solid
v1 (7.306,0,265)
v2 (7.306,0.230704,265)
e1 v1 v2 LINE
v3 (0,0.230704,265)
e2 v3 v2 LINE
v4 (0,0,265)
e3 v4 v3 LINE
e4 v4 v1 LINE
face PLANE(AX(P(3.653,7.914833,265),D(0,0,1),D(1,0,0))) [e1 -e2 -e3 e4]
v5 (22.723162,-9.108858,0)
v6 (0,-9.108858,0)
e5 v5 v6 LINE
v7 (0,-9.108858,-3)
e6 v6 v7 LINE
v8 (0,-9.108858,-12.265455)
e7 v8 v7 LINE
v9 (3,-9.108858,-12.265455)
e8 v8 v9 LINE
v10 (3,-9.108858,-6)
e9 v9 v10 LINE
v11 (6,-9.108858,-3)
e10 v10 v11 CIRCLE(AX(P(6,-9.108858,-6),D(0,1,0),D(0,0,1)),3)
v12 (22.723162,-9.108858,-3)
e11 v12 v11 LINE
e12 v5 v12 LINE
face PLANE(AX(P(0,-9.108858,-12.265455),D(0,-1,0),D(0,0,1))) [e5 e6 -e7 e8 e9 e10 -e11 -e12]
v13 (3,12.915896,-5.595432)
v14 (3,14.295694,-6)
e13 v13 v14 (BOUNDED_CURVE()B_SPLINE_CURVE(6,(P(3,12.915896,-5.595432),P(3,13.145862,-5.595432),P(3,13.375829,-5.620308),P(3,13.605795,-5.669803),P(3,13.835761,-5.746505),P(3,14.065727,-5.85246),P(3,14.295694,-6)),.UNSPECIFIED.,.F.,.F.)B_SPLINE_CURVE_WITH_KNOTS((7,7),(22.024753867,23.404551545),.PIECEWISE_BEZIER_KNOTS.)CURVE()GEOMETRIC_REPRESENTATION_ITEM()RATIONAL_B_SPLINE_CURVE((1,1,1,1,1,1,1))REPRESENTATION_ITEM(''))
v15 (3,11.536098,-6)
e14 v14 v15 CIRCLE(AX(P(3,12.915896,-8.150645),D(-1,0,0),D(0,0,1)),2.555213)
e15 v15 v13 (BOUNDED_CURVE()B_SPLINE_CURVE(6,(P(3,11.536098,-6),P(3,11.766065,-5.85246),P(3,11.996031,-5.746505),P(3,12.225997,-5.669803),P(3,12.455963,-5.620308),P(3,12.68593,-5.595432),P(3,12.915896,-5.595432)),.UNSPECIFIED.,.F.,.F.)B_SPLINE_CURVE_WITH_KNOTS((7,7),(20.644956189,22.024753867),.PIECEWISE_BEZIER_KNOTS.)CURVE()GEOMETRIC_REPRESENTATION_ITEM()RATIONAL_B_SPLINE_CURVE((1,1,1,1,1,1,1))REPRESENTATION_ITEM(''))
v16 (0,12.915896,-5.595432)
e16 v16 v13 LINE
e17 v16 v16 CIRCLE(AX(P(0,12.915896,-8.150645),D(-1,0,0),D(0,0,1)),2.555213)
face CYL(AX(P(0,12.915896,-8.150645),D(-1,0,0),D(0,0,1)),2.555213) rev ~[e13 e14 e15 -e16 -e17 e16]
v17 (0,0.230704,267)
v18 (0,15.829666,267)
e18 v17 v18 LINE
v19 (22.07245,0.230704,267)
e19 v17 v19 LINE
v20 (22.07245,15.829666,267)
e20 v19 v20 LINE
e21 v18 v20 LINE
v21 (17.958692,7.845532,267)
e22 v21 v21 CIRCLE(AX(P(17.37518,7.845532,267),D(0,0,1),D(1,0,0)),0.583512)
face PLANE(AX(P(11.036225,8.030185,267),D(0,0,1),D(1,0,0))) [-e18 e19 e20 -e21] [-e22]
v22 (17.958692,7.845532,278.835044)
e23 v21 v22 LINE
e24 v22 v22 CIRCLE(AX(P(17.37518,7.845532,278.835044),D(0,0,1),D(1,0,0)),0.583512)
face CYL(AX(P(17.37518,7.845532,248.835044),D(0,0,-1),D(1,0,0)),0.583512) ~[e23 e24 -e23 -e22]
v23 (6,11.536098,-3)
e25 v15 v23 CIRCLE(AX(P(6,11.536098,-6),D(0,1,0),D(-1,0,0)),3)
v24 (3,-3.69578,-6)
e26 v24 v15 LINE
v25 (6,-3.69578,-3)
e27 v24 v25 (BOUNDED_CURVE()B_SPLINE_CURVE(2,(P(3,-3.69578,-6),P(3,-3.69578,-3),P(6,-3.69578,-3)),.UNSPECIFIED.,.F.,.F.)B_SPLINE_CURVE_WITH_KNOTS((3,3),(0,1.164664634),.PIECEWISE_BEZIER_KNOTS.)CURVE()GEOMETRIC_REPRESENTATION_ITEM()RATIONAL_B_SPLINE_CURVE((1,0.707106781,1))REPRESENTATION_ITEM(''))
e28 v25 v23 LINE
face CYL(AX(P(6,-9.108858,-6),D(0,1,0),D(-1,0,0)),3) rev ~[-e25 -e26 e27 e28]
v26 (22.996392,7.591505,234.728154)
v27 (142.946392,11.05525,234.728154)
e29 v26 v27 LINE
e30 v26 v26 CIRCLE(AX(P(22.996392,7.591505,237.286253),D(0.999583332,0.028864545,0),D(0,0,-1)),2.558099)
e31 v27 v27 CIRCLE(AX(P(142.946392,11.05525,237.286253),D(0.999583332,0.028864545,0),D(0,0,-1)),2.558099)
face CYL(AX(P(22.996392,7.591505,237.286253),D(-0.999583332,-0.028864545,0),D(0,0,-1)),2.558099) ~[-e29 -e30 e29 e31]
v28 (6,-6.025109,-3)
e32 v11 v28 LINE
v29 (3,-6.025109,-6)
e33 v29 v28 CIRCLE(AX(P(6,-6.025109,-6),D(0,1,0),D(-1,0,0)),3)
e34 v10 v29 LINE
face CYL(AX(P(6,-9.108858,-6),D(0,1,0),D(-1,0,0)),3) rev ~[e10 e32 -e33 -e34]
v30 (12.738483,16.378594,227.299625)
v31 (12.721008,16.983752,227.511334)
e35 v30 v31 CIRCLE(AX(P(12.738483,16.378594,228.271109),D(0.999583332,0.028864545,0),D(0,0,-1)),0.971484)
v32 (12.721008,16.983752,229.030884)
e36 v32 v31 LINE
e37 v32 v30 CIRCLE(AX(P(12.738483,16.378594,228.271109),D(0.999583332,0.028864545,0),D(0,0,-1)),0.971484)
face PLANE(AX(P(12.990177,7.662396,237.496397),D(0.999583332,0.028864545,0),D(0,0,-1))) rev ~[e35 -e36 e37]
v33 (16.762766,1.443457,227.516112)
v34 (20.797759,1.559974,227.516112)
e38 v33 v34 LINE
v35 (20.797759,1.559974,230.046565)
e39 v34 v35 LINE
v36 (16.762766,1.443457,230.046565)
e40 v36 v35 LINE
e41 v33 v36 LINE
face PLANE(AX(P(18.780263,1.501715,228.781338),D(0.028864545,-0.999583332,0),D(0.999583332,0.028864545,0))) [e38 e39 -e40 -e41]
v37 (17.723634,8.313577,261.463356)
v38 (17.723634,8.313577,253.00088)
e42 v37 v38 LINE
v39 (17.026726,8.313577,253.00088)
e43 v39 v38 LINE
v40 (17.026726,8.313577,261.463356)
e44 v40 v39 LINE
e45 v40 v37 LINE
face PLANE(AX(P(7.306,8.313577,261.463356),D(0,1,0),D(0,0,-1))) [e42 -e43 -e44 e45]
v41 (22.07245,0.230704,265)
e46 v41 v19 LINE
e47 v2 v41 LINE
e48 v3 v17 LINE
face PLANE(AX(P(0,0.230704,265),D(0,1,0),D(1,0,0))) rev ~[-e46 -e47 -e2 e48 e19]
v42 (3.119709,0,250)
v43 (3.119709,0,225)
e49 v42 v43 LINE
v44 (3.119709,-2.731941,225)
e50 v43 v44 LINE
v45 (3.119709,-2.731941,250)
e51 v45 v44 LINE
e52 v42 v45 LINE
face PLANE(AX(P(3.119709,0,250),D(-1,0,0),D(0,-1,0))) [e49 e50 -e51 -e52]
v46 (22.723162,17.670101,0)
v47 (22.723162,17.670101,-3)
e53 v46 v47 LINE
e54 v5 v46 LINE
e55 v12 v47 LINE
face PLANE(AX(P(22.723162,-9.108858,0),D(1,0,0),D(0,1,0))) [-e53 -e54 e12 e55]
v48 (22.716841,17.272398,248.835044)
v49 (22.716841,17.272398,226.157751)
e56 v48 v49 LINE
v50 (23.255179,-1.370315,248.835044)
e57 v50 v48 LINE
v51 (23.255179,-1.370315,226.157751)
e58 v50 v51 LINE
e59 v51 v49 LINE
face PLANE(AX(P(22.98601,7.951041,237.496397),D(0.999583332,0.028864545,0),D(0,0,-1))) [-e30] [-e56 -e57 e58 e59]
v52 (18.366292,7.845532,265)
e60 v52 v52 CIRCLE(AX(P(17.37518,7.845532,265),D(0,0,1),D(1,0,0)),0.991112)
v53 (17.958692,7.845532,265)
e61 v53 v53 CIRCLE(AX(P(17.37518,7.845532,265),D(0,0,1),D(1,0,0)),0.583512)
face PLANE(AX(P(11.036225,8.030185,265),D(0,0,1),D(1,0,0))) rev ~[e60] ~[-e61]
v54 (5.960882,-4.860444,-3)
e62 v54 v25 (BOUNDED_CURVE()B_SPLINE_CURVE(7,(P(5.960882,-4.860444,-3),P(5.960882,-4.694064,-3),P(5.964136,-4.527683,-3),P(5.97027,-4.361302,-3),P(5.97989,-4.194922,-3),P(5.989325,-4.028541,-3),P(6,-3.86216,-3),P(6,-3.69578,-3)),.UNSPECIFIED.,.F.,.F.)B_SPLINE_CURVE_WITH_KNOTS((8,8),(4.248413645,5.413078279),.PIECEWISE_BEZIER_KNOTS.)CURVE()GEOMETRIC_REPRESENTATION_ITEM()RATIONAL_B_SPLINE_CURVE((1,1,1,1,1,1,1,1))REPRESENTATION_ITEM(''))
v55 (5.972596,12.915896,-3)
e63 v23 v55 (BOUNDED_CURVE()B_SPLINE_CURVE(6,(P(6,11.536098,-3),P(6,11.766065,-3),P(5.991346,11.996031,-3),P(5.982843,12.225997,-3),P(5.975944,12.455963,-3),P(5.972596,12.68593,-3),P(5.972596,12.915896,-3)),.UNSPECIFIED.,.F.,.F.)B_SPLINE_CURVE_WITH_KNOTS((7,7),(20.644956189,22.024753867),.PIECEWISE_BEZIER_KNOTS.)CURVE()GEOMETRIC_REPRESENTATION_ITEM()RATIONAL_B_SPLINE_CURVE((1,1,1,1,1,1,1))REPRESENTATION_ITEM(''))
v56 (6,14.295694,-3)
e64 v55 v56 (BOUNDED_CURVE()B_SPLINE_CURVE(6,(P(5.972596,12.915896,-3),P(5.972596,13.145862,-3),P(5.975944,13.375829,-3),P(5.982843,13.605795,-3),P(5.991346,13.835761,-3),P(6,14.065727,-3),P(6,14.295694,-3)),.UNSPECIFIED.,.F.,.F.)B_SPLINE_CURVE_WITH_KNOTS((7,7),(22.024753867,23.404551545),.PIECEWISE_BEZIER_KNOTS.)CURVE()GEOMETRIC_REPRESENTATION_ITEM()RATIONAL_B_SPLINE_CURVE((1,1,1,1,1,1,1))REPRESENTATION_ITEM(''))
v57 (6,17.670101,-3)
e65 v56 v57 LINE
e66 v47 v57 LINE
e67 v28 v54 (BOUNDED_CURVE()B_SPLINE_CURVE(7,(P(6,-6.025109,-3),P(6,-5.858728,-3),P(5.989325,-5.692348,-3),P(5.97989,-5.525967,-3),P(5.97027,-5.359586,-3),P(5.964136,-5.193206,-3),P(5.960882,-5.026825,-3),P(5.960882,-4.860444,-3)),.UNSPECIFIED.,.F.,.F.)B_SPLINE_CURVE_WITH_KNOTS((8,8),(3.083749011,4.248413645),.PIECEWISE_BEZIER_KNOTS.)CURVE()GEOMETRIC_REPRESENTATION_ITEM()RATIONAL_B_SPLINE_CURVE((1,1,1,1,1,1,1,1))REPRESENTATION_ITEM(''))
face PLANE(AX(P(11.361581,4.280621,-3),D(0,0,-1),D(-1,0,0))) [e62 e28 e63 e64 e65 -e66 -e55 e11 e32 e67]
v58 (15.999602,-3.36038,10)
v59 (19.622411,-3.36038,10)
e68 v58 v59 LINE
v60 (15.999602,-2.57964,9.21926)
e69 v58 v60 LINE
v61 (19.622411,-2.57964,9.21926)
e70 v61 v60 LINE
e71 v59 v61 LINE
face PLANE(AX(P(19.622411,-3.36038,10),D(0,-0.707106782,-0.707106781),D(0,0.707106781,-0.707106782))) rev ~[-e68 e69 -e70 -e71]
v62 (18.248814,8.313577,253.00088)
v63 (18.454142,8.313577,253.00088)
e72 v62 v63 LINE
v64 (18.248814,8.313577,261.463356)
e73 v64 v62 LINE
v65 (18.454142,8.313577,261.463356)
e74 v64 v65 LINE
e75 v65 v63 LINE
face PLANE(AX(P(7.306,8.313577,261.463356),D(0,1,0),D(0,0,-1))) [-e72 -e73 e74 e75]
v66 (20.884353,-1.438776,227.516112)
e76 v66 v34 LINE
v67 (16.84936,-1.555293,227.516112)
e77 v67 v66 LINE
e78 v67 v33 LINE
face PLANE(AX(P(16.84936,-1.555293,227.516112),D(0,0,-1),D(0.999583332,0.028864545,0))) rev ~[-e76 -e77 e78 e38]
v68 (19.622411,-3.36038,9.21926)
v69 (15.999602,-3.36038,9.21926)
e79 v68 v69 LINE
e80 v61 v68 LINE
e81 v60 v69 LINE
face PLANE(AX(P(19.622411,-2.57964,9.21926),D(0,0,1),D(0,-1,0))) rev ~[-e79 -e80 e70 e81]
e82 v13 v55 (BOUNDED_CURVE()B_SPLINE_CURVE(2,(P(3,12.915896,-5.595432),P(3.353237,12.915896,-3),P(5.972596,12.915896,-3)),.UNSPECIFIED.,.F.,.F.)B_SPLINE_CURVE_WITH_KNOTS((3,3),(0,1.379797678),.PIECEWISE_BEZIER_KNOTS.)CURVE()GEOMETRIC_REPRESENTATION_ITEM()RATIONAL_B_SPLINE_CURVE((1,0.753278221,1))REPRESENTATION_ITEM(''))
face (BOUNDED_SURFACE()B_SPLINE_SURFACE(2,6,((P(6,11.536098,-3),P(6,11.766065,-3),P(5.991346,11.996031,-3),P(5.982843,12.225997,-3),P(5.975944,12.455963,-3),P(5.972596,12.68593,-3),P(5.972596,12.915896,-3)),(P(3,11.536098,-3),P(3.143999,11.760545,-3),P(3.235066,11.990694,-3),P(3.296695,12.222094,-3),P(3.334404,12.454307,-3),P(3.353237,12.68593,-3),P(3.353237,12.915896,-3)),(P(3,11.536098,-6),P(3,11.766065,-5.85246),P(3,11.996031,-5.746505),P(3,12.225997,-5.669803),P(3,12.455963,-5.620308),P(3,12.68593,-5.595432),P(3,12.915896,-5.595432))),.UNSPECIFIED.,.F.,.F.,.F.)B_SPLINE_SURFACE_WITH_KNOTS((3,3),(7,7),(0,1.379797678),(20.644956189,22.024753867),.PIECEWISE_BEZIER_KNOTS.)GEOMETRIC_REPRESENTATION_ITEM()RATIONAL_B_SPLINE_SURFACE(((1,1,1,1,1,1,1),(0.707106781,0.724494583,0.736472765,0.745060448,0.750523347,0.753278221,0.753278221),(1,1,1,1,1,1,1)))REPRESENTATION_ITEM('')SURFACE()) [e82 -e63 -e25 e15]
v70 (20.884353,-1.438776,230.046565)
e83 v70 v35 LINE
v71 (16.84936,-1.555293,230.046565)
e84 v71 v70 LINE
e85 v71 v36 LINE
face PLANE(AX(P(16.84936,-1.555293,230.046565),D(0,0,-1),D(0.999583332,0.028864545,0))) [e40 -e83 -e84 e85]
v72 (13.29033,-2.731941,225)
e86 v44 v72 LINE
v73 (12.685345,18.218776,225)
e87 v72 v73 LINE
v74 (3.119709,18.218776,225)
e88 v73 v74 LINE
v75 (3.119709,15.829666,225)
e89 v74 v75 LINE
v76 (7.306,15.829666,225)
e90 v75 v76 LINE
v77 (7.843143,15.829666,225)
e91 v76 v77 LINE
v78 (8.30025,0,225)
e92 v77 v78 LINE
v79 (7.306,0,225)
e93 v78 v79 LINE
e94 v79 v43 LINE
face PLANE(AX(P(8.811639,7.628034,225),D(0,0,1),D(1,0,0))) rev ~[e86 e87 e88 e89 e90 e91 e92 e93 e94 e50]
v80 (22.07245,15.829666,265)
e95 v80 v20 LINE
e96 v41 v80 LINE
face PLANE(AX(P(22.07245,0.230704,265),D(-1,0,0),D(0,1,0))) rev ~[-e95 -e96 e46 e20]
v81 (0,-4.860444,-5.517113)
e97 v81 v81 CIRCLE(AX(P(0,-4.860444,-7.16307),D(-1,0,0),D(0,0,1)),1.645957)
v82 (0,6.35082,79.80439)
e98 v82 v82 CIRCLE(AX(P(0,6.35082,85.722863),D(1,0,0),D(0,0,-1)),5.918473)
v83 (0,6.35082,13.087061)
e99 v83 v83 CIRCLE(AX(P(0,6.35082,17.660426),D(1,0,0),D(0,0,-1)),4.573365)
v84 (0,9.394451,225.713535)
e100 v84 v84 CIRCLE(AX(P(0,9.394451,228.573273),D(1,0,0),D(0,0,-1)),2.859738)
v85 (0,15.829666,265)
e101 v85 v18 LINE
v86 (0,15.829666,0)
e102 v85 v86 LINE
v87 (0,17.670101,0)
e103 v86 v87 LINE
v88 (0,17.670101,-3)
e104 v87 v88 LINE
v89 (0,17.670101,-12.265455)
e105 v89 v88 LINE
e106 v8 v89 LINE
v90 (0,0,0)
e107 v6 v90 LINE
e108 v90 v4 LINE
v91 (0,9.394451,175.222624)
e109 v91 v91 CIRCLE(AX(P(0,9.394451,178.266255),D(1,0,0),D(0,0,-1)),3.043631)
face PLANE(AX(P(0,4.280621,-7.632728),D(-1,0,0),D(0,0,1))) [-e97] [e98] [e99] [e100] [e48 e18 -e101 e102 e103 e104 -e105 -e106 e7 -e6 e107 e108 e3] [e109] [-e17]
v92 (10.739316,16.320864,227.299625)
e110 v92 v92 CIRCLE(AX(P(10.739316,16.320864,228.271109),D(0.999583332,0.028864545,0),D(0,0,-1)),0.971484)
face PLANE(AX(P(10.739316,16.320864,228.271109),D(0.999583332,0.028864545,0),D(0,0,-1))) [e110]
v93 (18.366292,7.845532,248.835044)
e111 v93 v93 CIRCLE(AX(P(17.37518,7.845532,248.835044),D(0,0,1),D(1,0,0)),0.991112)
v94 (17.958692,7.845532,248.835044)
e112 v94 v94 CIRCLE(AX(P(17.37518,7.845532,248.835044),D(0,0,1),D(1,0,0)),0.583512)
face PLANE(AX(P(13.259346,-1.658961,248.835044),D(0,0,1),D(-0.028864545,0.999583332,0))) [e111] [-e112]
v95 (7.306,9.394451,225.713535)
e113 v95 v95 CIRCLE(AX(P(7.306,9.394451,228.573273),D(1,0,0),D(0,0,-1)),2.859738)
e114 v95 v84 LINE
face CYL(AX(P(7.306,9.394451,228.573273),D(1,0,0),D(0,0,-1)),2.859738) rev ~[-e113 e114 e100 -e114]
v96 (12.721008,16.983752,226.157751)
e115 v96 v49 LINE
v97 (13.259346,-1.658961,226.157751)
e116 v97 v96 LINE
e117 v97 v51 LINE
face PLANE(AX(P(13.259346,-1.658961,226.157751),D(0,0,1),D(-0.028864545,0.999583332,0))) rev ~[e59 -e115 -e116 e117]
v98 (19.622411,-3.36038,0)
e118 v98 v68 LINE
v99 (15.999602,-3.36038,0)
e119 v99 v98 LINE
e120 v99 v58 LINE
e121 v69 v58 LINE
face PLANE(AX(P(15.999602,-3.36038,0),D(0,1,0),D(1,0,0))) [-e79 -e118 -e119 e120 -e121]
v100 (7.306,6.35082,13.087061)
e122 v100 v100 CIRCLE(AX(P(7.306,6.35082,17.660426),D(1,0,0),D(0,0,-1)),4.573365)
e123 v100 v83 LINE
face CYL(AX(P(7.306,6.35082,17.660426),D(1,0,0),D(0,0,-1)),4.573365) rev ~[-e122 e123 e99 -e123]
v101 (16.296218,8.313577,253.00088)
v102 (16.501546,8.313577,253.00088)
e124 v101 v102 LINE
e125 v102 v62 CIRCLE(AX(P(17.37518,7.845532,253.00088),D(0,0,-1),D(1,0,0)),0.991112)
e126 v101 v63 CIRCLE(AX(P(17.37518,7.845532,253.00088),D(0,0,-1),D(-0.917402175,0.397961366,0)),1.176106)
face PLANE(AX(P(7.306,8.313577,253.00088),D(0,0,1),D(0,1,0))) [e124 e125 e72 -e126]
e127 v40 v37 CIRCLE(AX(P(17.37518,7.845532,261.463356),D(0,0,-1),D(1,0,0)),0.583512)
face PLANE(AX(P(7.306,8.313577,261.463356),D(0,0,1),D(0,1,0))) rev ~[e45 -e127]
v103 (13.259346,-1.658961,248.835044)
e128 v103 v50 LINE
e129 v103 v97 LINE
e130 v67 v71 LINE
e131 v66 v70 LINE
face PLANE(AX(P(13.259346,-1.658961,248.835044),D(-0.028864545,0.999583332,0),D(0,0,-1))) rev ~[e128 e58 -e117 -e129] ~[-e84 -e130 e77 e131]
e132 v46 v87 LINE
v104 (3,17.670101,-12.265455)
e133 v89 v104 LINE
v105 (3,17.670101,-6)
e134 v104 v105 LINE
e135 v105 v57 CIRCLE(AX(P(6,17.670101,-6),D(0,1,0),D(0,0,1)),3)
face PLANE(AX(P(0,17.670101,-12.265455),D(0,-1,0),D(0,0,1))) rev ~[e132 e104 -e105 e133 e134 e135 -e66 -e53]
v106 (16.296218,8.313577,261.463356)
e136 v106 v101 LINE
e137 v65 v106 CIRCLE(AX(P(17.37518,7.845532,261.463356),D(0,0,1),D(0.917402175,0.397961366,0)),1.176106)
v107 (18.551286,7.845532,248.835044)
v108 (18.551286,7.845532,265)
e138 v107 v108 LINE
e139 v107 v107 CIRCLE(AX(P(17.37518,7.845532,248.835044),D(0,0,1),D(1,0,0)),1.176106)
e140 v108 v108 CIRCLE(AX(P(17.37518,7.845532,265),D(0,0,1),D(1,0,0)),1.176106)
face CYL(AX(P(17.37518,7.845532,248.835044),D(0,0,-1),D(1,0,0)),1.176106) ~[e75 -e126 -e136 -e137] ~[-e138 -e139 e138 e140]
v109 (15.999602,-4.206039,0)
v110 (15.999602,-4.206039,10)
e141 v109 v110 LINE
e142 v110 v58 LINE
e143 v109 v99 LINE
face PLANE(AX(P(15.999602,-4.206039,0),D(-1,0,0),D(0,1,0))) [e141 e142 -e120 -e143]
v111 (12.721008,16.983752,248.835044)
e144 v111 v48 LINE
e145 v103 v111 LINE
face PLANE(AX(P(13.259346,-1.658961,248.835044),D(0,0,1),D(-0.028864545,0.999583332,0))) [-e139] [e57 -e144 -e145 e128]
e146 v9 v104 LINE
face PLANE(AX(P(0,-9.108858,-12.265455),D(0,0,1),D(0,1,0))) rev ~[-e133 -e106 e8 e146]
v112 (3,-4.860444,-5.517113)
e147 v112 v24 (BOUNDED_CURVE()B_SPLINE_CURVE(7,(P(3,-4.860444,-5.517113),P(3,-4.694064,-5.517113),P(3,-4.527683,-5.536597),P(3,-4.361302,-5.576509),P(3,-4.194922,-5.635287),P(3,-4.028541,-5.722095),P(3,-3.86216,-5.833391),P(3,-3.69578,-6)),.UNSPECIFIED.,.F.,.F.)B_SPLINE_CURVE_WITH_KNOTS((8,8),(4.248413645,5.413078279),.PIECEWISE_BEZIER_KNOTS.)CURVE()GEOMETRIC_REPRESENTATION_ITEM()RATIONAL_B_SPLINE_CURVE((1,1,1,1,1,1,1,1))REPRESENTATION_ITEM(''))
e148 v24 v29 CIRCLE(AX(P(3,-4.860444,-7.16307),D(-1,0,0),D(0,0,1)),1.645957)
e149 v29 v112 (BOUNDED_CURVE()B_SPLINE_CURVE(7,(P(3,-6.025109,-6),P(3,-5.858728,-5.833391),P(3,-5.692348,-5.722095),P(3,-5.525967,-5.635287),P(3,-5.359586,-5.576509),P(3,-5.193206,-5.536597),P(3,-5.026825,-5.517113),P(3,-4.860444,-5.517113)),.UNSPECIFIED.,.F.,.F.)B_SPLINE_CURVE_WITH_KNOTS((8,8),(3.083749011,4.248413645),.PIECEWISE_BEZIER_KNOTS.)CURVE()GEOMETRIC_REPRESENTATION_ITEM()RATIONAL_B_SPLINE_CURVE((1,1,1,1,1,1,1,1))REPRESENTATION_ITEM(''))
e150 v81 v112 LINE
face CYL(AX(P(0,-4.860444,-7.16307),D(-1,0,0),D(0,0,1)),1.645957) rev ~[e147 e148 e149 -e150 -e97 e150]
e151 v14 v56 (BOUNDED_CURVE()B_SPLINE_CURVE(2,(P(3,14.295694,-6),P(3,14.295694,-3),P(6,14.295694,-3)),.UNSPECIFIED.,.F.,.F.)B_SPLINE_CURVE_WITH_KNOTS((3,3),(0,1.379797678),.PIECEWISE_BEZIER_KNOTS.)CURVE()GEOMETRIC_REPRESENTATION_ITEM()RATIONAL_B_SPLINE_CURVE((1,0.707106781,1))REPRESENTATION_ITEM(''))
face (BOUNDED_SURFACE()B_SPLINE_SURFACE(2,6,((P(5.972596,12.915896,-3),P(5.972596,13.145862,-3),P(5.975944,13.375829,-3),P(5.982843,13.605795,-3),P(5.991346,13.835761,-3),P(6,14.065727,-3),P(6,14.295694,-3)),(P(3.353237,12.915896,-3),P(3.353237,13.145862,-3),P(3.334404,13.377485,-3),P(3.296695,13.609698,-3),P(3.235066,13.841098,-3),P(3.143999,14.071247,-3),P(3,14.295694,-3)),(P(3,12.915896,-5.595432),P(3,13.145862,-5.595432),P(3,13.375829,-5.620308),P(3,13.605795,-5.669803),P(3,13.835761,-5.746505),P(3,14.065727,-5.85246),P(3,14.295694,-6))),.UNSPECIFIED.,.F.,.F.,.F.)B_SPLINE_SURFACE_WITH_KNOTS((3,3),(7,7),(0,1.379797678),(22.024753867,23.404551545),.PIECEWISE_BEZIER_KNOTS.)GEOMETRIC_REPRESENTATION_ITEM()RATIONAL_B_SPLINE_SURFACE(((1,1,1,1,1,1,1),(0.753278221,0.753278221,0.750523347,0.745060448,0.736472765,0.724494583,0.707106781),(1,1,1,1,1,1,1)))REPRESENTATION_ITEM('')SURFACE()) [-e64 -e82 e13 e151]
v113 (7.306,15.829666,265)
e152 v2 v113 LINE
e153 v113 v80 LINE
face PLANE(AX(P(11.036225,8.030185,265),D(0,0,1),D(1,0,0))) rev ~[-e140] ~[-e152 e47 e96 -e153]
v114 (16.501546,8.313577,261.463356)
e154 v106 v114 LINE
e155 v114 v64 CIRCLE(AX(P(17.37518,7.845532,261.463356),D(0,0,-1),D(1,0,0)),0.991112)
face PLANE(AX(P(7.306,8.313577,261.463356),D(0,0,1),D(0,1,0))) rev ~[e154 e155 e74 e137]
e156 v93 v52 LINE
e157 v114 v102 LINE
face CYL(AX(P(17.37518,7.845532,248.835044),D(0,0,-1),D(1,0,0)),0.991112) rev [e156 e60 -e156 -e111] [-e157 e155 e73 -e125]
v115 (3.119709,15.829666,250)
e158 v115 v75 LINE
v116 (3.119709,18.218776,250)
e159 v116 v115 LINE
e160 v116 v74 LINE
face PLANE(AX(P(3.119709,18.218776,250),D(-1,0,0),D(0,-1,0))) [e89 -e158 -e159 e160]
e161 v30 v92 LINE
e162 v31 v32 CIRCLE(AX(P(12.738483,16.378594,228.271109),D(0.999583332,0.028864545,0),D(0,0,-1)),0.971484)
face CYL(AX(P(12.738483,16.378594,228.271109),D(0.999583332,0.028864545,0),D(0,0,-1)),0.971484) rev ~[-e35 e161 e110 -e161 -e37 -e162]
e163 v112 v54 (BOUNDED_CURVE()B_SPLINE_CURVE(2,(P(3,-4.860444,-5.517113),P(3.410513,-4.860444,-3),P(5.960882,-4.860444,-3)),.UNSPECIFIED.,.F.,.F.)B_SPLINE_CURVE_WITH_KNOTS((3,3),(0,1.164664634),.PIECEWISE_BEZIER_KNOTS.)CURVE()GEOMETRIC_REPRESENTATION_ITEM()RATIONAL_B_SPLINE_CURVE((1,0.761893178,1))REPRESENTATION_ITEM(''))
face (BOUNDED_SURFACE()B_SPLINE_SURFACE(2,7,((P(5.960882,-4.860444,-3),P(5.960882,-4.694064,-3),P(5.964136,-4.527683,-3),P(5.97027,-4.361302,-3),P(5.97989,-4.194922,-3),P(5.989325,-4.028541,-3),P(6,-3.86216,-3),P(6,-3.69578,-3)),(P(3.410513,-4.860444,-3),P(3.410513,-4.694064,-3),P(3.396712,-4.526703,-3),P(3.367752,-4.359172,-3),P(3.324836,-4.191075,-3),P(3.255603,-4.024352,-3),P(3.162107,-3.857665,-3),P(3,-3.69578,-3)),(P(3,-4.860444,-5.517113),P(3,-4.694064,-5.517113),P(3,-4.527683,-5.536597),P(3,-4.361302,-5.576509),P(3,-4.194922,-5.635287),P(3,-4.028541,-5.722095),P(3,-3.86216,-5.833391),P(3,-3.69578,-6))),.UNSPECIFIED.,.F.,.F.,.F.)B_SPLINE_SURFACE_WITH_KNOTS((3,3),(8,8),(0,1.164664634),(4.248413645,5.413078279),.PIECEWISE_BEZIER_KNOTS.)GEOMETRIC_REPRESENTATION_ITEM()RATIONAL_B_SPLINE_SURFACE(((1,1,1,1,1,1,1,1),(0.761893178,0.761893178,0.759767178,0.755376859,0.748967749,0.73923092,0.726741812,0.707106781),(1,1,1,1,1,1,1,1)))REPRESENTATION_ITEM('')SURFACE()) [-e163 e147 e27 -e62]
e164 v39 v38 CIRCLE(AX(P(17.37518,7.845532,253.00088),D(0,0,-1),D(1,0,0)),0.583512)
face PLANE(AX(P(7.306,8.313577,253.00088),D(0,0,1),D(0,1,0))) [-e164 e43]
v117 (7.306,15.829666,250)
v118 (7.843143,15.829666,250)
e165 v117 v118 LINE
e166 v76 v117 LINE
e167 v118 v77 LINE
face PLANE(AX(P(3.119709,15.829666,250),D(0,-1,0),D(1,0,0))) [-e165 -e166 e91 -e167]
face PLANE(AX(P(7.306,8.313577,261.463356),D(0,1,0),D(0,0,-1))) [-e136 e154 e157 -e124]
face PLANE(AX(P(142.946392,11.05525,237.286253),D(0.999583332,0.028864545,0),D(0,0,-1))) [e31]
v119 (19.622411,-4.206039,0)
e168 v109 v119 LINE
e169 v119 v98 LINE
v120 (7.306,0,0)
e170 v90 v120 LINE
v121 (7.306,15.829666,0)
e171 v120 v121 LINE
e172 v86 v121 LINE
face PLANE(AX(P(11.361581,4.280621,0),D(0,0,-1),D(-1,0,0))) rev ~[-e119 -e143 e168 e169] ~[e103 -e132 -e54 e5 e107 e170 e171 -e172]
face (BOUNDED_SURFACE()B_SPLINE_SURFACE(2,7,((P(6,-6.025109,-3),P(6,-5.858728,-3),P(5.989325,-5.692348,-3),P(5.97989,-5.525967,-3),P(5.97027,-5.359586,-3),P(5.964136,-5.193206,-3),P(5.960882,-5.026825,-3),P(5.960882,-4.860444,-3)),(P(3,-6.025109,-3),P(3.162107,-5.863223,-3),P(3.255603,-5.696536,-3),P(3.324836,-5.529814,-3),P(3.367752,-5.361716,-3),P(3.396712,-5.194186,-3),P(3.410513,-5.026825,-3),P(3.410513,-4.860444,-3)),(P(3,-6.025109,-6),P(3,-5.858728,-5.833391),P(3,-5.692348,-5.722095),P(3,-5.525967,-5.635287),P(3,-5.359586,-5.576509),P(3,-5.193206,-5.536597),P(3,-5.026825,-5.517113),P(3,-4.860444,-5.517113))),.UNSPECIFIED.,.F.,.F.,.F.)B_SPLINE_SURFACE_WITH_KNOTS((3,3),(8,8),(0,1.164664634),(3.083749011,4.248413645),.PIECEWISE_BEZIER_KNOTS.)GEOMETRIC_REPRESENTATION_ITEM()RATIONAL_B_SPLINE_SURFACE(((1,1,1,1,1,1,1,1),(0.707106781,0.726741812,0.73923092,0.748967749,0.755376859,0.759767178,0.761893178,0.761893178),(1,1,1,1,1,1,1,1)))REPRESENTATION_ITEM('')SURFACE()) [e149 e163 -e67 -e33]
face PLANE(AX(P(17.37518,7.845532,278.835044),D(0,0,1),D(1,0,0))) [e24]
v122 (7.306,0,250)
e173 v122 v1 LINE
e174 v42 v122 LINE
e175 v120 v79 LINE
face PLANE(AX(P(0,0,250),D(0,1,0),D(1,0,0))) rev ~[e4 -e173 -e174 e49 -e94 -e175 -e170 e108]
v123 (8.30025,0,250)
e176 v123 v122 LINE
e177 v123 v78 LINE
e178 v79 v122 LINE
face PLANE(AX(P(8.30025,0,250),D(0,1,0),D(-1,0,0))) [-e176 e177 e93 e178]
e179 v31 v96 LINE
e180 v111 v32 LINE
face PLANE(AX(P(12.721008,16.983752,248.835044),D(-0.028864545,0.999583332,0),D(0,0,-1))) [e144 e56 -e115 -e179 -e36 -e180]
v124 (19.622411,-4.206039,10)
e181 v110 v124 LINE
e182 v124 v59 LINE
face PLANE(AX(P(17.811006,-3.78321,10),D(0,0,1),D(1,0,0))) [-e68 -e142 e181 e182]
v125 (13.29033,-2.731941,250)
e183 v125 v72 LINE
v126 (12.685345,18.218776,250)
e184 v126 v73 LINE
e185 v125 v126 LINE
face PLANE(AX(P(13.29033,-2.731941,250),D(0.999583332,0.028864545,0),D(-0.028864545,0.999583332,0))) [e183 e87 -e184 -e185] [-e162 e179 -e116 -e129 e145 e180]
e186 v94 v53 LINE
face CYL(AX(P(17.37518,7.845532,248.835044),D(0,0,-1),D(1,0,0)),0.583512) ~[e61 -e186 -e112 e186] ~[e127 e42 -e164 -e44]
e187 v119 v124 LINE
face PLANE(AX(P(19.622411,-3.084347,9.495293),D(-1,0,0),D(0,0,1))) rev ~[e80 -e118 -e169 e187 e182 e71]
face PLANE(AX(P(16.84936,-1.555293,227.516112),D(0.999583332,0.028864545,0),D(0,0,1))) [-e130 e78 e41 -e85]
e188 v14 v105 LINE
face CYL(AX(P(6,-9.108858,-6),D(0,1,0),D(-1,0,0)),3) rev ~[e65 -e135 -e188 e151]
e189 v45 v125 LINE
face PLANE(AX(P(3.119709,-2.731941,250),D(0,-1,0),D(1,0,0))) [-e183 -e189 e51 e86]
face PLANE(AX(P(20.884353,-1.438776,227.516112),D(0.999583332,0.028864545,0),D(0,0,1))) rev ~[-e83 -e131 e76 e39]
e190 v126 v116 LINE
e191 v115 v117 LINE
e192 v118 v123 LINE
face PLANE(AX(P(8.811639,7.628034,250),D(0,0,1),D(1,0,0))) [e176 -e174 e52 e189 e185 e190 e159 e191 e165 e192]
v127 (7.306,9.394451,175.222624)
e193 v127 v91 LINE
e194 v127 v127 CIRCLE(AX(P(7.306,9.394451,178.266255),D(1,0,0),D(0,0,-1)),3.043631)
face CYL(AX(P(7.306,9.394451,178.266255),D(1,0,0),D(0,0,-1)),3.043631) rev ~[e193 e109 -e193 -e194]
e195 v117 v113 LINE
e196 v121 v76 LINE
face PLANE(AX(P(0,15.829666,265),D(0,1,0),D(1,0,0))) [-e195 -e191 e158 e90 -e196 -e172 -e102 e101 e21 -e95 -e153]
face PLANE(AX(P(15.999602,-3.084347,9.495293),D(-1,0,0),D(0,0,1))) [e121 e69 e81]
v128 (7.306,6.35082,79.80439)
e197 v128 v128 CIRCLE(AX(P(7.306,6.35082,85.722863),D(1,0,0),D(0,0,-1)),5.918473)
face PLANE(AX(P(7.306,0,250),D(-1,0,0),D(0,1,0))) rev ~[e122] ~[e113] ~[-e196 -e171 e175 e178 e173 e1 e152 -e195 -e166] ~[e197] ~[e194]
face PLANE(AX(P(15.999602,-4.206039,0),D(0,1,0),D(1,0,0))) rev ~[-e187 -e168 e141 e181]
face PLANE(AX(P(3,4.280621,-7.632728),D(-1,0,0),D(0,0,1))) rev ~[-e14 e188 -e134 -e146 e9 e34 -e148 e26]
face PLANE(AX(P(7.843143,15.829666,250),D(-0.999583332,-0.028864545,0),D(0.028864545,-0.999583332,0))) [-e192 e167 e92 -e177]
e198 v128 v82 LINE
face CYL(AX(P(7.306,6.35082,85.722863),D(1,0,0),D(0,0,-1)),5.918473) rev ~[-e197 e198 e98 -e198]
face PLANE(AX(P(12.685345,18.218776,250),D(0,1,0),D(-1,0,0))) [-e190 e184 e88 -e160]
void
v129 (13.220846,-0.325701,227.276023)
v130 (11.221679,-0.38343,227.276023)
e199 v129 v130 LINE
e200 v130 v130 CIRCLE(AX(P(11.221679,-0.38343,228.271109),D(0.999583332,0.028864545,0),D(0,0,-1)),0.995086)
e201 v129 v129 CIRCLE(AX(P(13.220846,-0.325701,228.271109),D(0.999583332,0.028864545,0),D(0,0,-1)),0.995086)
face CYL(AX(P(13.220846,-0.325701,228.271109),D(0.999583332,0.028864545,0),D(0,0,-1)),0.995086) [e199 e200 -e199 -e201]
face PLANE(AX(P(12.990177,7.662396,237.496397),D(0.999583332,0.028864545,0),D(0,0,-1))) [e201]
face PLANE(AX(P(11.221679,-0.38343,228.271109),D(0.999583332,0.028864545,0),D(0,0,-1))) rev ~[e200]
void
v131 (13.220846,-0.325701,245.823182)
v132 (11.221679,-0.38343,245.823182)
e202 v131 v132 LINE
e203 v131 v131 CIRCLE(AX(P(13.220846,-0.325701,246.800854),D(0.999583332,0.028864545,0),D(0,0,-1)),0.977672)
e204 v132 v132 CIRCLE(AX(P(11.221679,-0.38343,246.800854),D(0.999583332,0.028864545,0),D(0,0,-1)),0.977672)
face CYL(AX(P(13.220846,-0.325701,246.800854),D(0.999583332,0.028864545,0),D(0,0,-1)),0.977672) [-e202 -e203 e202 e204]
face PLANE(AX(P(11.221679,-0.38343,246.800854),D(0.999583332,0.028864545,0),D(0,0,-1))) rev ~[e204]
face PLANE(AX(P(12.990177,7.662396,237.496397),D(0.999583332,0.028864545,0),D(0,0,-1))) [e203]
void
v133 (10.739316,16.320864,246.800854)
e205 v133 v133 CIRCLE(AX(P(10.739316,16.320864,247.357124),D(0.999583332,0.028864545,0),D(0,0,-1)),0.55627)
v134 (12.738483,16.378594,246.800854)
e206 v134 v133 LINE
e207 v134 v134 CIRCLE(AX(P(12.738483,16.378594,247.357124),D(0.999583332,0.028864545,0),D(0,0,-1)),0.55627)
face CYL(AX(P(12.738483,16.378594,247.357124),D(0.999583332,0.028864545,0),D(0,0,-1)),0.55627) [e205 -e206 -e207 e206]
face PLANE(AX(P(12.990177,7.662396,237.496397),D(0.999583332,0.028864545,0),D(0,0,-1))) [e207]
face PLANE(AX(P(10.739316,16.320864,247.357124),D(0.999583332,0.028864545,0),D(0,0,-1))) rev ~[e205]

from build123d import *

# Parameters (mm, degrees)
SKETCH1_W            = 7.305999503
SKETCH1_H            = 15.829665589
BOSS_EXTRUDE1_DEPTH  = 250
SKETCH2_R            = 2.859737651
SKETCH2_R_2          = 3.043630703
SKETCH2_R_3          = 5.918472751
SKETCH2_R_4          = 4.573365308
CUT_EXTRUDE1_DEPTH   = 250
BOSS_EXTRUDE2_DEPTH  = 25
SKETCH4_R            = 0.55626985
SKETCH4_R_2          = 0.971483528
SKETCH4_R_3          = 0.995085758
SKETCH4_R_4          = 0.977672137
CUT_EXTRUDE2_DEPTH   = 2
SKETCH5_W            = 22.677292764
SKETCH5_H            = 18.650483769
BOSS_EXTRUDE3_DEPTH  = 10
SKETCH7_W            = 7.305999503
SKETCH7_H            = 15.829665589
BOSS_EXTRUDE4_DEPTH  = 15
SKETCH8_R            = 0.583511753
BOSS_EXTRUDE5_DEPTH  = 30
SKETCH10_R           = 1.176105539
SKETCH10_R_2         = 0.991111504
BOSS_EXTRUDE6_DEPTH  = 16.164956
SKETCH11_W           = 22.072449834
SKETCH11_H           = 15.598961577
SKETCH11_R           = 0.583511753
BOSS_EXTRUDE7_DEPTH  = 2
SKETCH12_W           = 8.462475972
SKETCH12_H           = 0.708060972
CUT_EXTRUDE3_DEPTH   = 16.949179392
SKETCH13_R           = 2.558098884
BOSS_EXTRUDE8_DEPTH  = 120
SKETCH14_W           = 4.036675172
SKETCH14_H           = 2.530453093
CUT_EXTRUDE4_DEPTH   = 3
SKETCH15_W           = 22.723161813
SKETCH15_H           = 26.77895865
BOSS_EXTRUDE9_DEPTH  = 3
SKETCH16_W           = 3.62280941
SKETCH16_H           = 0.845659338
BOSS_EXTRUDE10_DEPTH = 10
BOSS_EXTRUDE11_DEPTH = 3.622809
SKETCH20_W           = 9.26545532
SKETCH20_H           = 26.77895865
SKETCH20_R           = 2.555213065
SKETCH20_R_2         = 1.645957428
BOSS_EXTRUDE12_DEPTH = 3
FILLET1_R            = 3


with BuildPart() as part:
    # Sketch1 → Boss-Extrude1 (new body)
    with BuildSketch(Plane.XY):
        with Locations((3.652999752, 7.914832795)):
            Rectangle(SKETCH1_W, SKETCH1_H)
    extrude(amount=BOSS_EXTRUDE1_DEPTH)

    # Sketch2 → Cut-Extrude1 (cut)
    with BuildSketch(Plane(origin=(7.305999503, 0, 0), x_dir=(0, 0, -1), z_dir=(1, 0, 0))):
        with Locations((-228.573273141, 9.394450982)):
            Circle(SKETCH2_R)
        with Locations((-178.266254758, 9.394450982)):
            Circle(SKETCH2_R_2)
        with Locations((-85.722862653, 6.350820279)):
            Circle(SKETCH2_R_3)
        with Locations((-17.660426017, 6.350820279)):
            Circle(SKETCH2_R_4)
    extrude(amount=-CUT_EXTRUDE1_DEPTH, mode=Mode.SUBTRACT)

    # Sketch3 → Boss-Extrude2 (add)
    with BuildSketch(Plane.XY.offset(250)):
        Polygon((3.119708773, 18.218776332), (3.119708773, 15.829665589), (7.843143149, 15.829665589), (8.300249701, 0), (3.119708773, 0), (3.119708773, -2.731940657), (13.290329566, -2.731940657), (12.68534458, 18.218776332), align=None)
    extrude(amount=-BOSS_EXTRUDE2_DEPTH)

    # Sketch4 → Cut-Extrude2 (cut)
    with BuildSketch(Plane(origin=(13.200433203, 0.381183322, 0), x_dir=(0, 0, -1), z_dir=(0.999583332, 0.028864545, 0))):
        with Locations((-247.357123666, 16.004078596)):
            Circle(SKETCH4_R)
        with Locations((-228.271108715, 16.004078596)):
            Circle(SKETCH4_R_2)
        with Locations((-228.271108715, -0.707178735)):
            Circle(SKETCH4_R_3)
        with Locations((-246.800853817, -0.707178735)):
            Circle(SKETCH4_R_4)
    extrude(amount=-CUT_EXTRUDE2_DEPTH, mode=Mode.SUBTRACT)

    # Sketch5 → Boss-Extrude3 (add)
    with BuildSketch(Plane(origin=(13.200433203, 0.381183322, 0), x_dir=(0, 0, -1), z_dir=(0.999583332, 0.028864545, 0))):
        with Locations((-237.496397387, 7.284247631)):
            Rectangle(SKETCH5_W, SKETCH5_H)
    extrude(amount=BOSS_EXTRUDE3_DEPTH)

    # Sketch7 → Boss-Extrude4 (add)
    with BuildSketch(Plane.XY.offset(250)):
        with Locations((3.652999752, 7.914832795)):
            Rectangle(SKETCH7_W, SKETCH7_H)
    extrude(amount=BOSS_EXTRUDE4_DEPTH)

    # Sketch8 → Boss-Extrude5 (add)
    with BuildSketch(Plane.XY.offset(248.835043769)):
        with Locations((17.375180219, 7.845532394)):
            Circle(SKETCH8_R)
    extrude(amount=BOSS_EXTRUDE5_DEPTH)

    # Sketch10 → Boss-Extrude6 (add)
    with BuildSketch(Plane.XY.offset(248.835043769)):
        with Locations((17.375180219, 7.845532394)):
            Circle(SKETCH10_R)
        with Locations((17.375180219, 7.845532394)):
            Circle(SKETCH10_R_2, mode=Mode.SUBTRACT)
    extrude(amount=BOSS_EXTRUDE6_DEPTH)

    # Sketch11 → Boss-Extrude7 (add)
    with BuildSketch(Plane.XY.offset(265)):
        with Locations((11.036224917, 8.030184801)):
            Rectangle(SKETCH11_W, SKETCH11_H)
        with Locations((17.375180219, 7.845532394)):
            Circle(SKETCH11_R, mode=Mode.SUBTRACT)
    extrude(amount=BOSS_EXTRUDE7_DEPTH)

    # Sketch12 → Cut-Extrude3 (cut, through all)
    with BuildSketch(Plane(origin=(7.305999503, 0, 0), x_dir=(0, 0, -1), z_dir=(1, 0, 0))):
        with Locations((-257.232117953, 8.667607447)):
            Rectangle(SKETCH12_W, SKETCH12_H)
    extrude(amount=CUT_EXTRUDE3_DEPTH, mode=Mode.SUBTRACT)

    # Sketch13 → Boss-Extrude8 (add)
    with BuildSketch(Plane(origin=(23.196266525, 0.669828769, 0), x_dir=(0, 0, -1), z_dir=(0.999583332, 0.028864545, 0))):
        with Locations((-237.28625307, 6.924561564)):
            Circle(SKETCH13_R)
    extrude(amount=BOSS_EXTRUDE8_DEPTH)

    # Sketch14 → Cut-Extrude4 (cut)
    with BuildSketch(Plane(origin=(0.05891237, -2.040143836, 0), x_dir=(0.999583332, 0.028864545, 0), z_dir=(0.028864545, -0.999583332, 0))):
        with Locations((18.81578383, 228.781338254)):
            Rectangle(SKETCH14_W, SKETCH14_H)
    extrude(amount=-CUT_EXTRUDE4_DEPTH, mode=Mode.SUBTRACT)

    # Sketch15 → Boss-Extrude9 (add)
    with BuildSketch(Plane(origin=(0, 0, 0), x_dir=(-1, 0, 0), z_dir=(0, 0, -1))):
        with Locations((-11.361580907, 4.28062146)):
            Rectangle(SKETCH15_W, SKETCH15_H)
    extrude(amount=BOSS_EXTRUDE9_DEPTH)

    # Sketch16 → Boss-Extrude10 (add)
    with BuildSketch(Plane.XY):
        with Locations((17.811006308, -3.783209828)):
            Rectangle(SKETCH16_W, SKETCH16_H)
    extrude(amount=BOSS_EXTRUDE10_DEPTH)

    # Sketch17 → Boss-Extrude11 (add)
    with BuildSketch(Plane(origin=(19.622411013, 0, 0), x_dir=(0, 0, -1), z_dir=(1, 0, 0))):
        Polygon((-10, -3.360380159), (-9.219259529, -2.579639689), (-9.219259529, -3.360380159), align=None)
    extrude(amount=-BOSS_EXTRUDE11_DEPTH)

    # Sketch20 → Boss-Extrude12 (add)
    with BuildSketch(Plane.ZY):
        with Locations((-7.63272766, 4.28062146)):
            Rectangle(SKETCH20_W, SKETCH20_H)
        with Locations((-8.150644595, 12.915896002)):
            Circle(SKETCH20_R, mode=Mode.SUBTRACT)
        with Locations((-7.163070138, -4.86044422)):
            Circle(SKETCH20_R_2, mode=Mode.SUBTRACT)
    extrude(amount=-BOSS_EXTRUDE12_DEPTH)

    # Fillet1
    fillet1_edges = [part.edges().sort_by_distance(p)[0] for p in [
        (3, 4.28062146, -3),
    ]]
    fillet(fillet1_edges, radius=FILLET1_R)


solid = part.part
